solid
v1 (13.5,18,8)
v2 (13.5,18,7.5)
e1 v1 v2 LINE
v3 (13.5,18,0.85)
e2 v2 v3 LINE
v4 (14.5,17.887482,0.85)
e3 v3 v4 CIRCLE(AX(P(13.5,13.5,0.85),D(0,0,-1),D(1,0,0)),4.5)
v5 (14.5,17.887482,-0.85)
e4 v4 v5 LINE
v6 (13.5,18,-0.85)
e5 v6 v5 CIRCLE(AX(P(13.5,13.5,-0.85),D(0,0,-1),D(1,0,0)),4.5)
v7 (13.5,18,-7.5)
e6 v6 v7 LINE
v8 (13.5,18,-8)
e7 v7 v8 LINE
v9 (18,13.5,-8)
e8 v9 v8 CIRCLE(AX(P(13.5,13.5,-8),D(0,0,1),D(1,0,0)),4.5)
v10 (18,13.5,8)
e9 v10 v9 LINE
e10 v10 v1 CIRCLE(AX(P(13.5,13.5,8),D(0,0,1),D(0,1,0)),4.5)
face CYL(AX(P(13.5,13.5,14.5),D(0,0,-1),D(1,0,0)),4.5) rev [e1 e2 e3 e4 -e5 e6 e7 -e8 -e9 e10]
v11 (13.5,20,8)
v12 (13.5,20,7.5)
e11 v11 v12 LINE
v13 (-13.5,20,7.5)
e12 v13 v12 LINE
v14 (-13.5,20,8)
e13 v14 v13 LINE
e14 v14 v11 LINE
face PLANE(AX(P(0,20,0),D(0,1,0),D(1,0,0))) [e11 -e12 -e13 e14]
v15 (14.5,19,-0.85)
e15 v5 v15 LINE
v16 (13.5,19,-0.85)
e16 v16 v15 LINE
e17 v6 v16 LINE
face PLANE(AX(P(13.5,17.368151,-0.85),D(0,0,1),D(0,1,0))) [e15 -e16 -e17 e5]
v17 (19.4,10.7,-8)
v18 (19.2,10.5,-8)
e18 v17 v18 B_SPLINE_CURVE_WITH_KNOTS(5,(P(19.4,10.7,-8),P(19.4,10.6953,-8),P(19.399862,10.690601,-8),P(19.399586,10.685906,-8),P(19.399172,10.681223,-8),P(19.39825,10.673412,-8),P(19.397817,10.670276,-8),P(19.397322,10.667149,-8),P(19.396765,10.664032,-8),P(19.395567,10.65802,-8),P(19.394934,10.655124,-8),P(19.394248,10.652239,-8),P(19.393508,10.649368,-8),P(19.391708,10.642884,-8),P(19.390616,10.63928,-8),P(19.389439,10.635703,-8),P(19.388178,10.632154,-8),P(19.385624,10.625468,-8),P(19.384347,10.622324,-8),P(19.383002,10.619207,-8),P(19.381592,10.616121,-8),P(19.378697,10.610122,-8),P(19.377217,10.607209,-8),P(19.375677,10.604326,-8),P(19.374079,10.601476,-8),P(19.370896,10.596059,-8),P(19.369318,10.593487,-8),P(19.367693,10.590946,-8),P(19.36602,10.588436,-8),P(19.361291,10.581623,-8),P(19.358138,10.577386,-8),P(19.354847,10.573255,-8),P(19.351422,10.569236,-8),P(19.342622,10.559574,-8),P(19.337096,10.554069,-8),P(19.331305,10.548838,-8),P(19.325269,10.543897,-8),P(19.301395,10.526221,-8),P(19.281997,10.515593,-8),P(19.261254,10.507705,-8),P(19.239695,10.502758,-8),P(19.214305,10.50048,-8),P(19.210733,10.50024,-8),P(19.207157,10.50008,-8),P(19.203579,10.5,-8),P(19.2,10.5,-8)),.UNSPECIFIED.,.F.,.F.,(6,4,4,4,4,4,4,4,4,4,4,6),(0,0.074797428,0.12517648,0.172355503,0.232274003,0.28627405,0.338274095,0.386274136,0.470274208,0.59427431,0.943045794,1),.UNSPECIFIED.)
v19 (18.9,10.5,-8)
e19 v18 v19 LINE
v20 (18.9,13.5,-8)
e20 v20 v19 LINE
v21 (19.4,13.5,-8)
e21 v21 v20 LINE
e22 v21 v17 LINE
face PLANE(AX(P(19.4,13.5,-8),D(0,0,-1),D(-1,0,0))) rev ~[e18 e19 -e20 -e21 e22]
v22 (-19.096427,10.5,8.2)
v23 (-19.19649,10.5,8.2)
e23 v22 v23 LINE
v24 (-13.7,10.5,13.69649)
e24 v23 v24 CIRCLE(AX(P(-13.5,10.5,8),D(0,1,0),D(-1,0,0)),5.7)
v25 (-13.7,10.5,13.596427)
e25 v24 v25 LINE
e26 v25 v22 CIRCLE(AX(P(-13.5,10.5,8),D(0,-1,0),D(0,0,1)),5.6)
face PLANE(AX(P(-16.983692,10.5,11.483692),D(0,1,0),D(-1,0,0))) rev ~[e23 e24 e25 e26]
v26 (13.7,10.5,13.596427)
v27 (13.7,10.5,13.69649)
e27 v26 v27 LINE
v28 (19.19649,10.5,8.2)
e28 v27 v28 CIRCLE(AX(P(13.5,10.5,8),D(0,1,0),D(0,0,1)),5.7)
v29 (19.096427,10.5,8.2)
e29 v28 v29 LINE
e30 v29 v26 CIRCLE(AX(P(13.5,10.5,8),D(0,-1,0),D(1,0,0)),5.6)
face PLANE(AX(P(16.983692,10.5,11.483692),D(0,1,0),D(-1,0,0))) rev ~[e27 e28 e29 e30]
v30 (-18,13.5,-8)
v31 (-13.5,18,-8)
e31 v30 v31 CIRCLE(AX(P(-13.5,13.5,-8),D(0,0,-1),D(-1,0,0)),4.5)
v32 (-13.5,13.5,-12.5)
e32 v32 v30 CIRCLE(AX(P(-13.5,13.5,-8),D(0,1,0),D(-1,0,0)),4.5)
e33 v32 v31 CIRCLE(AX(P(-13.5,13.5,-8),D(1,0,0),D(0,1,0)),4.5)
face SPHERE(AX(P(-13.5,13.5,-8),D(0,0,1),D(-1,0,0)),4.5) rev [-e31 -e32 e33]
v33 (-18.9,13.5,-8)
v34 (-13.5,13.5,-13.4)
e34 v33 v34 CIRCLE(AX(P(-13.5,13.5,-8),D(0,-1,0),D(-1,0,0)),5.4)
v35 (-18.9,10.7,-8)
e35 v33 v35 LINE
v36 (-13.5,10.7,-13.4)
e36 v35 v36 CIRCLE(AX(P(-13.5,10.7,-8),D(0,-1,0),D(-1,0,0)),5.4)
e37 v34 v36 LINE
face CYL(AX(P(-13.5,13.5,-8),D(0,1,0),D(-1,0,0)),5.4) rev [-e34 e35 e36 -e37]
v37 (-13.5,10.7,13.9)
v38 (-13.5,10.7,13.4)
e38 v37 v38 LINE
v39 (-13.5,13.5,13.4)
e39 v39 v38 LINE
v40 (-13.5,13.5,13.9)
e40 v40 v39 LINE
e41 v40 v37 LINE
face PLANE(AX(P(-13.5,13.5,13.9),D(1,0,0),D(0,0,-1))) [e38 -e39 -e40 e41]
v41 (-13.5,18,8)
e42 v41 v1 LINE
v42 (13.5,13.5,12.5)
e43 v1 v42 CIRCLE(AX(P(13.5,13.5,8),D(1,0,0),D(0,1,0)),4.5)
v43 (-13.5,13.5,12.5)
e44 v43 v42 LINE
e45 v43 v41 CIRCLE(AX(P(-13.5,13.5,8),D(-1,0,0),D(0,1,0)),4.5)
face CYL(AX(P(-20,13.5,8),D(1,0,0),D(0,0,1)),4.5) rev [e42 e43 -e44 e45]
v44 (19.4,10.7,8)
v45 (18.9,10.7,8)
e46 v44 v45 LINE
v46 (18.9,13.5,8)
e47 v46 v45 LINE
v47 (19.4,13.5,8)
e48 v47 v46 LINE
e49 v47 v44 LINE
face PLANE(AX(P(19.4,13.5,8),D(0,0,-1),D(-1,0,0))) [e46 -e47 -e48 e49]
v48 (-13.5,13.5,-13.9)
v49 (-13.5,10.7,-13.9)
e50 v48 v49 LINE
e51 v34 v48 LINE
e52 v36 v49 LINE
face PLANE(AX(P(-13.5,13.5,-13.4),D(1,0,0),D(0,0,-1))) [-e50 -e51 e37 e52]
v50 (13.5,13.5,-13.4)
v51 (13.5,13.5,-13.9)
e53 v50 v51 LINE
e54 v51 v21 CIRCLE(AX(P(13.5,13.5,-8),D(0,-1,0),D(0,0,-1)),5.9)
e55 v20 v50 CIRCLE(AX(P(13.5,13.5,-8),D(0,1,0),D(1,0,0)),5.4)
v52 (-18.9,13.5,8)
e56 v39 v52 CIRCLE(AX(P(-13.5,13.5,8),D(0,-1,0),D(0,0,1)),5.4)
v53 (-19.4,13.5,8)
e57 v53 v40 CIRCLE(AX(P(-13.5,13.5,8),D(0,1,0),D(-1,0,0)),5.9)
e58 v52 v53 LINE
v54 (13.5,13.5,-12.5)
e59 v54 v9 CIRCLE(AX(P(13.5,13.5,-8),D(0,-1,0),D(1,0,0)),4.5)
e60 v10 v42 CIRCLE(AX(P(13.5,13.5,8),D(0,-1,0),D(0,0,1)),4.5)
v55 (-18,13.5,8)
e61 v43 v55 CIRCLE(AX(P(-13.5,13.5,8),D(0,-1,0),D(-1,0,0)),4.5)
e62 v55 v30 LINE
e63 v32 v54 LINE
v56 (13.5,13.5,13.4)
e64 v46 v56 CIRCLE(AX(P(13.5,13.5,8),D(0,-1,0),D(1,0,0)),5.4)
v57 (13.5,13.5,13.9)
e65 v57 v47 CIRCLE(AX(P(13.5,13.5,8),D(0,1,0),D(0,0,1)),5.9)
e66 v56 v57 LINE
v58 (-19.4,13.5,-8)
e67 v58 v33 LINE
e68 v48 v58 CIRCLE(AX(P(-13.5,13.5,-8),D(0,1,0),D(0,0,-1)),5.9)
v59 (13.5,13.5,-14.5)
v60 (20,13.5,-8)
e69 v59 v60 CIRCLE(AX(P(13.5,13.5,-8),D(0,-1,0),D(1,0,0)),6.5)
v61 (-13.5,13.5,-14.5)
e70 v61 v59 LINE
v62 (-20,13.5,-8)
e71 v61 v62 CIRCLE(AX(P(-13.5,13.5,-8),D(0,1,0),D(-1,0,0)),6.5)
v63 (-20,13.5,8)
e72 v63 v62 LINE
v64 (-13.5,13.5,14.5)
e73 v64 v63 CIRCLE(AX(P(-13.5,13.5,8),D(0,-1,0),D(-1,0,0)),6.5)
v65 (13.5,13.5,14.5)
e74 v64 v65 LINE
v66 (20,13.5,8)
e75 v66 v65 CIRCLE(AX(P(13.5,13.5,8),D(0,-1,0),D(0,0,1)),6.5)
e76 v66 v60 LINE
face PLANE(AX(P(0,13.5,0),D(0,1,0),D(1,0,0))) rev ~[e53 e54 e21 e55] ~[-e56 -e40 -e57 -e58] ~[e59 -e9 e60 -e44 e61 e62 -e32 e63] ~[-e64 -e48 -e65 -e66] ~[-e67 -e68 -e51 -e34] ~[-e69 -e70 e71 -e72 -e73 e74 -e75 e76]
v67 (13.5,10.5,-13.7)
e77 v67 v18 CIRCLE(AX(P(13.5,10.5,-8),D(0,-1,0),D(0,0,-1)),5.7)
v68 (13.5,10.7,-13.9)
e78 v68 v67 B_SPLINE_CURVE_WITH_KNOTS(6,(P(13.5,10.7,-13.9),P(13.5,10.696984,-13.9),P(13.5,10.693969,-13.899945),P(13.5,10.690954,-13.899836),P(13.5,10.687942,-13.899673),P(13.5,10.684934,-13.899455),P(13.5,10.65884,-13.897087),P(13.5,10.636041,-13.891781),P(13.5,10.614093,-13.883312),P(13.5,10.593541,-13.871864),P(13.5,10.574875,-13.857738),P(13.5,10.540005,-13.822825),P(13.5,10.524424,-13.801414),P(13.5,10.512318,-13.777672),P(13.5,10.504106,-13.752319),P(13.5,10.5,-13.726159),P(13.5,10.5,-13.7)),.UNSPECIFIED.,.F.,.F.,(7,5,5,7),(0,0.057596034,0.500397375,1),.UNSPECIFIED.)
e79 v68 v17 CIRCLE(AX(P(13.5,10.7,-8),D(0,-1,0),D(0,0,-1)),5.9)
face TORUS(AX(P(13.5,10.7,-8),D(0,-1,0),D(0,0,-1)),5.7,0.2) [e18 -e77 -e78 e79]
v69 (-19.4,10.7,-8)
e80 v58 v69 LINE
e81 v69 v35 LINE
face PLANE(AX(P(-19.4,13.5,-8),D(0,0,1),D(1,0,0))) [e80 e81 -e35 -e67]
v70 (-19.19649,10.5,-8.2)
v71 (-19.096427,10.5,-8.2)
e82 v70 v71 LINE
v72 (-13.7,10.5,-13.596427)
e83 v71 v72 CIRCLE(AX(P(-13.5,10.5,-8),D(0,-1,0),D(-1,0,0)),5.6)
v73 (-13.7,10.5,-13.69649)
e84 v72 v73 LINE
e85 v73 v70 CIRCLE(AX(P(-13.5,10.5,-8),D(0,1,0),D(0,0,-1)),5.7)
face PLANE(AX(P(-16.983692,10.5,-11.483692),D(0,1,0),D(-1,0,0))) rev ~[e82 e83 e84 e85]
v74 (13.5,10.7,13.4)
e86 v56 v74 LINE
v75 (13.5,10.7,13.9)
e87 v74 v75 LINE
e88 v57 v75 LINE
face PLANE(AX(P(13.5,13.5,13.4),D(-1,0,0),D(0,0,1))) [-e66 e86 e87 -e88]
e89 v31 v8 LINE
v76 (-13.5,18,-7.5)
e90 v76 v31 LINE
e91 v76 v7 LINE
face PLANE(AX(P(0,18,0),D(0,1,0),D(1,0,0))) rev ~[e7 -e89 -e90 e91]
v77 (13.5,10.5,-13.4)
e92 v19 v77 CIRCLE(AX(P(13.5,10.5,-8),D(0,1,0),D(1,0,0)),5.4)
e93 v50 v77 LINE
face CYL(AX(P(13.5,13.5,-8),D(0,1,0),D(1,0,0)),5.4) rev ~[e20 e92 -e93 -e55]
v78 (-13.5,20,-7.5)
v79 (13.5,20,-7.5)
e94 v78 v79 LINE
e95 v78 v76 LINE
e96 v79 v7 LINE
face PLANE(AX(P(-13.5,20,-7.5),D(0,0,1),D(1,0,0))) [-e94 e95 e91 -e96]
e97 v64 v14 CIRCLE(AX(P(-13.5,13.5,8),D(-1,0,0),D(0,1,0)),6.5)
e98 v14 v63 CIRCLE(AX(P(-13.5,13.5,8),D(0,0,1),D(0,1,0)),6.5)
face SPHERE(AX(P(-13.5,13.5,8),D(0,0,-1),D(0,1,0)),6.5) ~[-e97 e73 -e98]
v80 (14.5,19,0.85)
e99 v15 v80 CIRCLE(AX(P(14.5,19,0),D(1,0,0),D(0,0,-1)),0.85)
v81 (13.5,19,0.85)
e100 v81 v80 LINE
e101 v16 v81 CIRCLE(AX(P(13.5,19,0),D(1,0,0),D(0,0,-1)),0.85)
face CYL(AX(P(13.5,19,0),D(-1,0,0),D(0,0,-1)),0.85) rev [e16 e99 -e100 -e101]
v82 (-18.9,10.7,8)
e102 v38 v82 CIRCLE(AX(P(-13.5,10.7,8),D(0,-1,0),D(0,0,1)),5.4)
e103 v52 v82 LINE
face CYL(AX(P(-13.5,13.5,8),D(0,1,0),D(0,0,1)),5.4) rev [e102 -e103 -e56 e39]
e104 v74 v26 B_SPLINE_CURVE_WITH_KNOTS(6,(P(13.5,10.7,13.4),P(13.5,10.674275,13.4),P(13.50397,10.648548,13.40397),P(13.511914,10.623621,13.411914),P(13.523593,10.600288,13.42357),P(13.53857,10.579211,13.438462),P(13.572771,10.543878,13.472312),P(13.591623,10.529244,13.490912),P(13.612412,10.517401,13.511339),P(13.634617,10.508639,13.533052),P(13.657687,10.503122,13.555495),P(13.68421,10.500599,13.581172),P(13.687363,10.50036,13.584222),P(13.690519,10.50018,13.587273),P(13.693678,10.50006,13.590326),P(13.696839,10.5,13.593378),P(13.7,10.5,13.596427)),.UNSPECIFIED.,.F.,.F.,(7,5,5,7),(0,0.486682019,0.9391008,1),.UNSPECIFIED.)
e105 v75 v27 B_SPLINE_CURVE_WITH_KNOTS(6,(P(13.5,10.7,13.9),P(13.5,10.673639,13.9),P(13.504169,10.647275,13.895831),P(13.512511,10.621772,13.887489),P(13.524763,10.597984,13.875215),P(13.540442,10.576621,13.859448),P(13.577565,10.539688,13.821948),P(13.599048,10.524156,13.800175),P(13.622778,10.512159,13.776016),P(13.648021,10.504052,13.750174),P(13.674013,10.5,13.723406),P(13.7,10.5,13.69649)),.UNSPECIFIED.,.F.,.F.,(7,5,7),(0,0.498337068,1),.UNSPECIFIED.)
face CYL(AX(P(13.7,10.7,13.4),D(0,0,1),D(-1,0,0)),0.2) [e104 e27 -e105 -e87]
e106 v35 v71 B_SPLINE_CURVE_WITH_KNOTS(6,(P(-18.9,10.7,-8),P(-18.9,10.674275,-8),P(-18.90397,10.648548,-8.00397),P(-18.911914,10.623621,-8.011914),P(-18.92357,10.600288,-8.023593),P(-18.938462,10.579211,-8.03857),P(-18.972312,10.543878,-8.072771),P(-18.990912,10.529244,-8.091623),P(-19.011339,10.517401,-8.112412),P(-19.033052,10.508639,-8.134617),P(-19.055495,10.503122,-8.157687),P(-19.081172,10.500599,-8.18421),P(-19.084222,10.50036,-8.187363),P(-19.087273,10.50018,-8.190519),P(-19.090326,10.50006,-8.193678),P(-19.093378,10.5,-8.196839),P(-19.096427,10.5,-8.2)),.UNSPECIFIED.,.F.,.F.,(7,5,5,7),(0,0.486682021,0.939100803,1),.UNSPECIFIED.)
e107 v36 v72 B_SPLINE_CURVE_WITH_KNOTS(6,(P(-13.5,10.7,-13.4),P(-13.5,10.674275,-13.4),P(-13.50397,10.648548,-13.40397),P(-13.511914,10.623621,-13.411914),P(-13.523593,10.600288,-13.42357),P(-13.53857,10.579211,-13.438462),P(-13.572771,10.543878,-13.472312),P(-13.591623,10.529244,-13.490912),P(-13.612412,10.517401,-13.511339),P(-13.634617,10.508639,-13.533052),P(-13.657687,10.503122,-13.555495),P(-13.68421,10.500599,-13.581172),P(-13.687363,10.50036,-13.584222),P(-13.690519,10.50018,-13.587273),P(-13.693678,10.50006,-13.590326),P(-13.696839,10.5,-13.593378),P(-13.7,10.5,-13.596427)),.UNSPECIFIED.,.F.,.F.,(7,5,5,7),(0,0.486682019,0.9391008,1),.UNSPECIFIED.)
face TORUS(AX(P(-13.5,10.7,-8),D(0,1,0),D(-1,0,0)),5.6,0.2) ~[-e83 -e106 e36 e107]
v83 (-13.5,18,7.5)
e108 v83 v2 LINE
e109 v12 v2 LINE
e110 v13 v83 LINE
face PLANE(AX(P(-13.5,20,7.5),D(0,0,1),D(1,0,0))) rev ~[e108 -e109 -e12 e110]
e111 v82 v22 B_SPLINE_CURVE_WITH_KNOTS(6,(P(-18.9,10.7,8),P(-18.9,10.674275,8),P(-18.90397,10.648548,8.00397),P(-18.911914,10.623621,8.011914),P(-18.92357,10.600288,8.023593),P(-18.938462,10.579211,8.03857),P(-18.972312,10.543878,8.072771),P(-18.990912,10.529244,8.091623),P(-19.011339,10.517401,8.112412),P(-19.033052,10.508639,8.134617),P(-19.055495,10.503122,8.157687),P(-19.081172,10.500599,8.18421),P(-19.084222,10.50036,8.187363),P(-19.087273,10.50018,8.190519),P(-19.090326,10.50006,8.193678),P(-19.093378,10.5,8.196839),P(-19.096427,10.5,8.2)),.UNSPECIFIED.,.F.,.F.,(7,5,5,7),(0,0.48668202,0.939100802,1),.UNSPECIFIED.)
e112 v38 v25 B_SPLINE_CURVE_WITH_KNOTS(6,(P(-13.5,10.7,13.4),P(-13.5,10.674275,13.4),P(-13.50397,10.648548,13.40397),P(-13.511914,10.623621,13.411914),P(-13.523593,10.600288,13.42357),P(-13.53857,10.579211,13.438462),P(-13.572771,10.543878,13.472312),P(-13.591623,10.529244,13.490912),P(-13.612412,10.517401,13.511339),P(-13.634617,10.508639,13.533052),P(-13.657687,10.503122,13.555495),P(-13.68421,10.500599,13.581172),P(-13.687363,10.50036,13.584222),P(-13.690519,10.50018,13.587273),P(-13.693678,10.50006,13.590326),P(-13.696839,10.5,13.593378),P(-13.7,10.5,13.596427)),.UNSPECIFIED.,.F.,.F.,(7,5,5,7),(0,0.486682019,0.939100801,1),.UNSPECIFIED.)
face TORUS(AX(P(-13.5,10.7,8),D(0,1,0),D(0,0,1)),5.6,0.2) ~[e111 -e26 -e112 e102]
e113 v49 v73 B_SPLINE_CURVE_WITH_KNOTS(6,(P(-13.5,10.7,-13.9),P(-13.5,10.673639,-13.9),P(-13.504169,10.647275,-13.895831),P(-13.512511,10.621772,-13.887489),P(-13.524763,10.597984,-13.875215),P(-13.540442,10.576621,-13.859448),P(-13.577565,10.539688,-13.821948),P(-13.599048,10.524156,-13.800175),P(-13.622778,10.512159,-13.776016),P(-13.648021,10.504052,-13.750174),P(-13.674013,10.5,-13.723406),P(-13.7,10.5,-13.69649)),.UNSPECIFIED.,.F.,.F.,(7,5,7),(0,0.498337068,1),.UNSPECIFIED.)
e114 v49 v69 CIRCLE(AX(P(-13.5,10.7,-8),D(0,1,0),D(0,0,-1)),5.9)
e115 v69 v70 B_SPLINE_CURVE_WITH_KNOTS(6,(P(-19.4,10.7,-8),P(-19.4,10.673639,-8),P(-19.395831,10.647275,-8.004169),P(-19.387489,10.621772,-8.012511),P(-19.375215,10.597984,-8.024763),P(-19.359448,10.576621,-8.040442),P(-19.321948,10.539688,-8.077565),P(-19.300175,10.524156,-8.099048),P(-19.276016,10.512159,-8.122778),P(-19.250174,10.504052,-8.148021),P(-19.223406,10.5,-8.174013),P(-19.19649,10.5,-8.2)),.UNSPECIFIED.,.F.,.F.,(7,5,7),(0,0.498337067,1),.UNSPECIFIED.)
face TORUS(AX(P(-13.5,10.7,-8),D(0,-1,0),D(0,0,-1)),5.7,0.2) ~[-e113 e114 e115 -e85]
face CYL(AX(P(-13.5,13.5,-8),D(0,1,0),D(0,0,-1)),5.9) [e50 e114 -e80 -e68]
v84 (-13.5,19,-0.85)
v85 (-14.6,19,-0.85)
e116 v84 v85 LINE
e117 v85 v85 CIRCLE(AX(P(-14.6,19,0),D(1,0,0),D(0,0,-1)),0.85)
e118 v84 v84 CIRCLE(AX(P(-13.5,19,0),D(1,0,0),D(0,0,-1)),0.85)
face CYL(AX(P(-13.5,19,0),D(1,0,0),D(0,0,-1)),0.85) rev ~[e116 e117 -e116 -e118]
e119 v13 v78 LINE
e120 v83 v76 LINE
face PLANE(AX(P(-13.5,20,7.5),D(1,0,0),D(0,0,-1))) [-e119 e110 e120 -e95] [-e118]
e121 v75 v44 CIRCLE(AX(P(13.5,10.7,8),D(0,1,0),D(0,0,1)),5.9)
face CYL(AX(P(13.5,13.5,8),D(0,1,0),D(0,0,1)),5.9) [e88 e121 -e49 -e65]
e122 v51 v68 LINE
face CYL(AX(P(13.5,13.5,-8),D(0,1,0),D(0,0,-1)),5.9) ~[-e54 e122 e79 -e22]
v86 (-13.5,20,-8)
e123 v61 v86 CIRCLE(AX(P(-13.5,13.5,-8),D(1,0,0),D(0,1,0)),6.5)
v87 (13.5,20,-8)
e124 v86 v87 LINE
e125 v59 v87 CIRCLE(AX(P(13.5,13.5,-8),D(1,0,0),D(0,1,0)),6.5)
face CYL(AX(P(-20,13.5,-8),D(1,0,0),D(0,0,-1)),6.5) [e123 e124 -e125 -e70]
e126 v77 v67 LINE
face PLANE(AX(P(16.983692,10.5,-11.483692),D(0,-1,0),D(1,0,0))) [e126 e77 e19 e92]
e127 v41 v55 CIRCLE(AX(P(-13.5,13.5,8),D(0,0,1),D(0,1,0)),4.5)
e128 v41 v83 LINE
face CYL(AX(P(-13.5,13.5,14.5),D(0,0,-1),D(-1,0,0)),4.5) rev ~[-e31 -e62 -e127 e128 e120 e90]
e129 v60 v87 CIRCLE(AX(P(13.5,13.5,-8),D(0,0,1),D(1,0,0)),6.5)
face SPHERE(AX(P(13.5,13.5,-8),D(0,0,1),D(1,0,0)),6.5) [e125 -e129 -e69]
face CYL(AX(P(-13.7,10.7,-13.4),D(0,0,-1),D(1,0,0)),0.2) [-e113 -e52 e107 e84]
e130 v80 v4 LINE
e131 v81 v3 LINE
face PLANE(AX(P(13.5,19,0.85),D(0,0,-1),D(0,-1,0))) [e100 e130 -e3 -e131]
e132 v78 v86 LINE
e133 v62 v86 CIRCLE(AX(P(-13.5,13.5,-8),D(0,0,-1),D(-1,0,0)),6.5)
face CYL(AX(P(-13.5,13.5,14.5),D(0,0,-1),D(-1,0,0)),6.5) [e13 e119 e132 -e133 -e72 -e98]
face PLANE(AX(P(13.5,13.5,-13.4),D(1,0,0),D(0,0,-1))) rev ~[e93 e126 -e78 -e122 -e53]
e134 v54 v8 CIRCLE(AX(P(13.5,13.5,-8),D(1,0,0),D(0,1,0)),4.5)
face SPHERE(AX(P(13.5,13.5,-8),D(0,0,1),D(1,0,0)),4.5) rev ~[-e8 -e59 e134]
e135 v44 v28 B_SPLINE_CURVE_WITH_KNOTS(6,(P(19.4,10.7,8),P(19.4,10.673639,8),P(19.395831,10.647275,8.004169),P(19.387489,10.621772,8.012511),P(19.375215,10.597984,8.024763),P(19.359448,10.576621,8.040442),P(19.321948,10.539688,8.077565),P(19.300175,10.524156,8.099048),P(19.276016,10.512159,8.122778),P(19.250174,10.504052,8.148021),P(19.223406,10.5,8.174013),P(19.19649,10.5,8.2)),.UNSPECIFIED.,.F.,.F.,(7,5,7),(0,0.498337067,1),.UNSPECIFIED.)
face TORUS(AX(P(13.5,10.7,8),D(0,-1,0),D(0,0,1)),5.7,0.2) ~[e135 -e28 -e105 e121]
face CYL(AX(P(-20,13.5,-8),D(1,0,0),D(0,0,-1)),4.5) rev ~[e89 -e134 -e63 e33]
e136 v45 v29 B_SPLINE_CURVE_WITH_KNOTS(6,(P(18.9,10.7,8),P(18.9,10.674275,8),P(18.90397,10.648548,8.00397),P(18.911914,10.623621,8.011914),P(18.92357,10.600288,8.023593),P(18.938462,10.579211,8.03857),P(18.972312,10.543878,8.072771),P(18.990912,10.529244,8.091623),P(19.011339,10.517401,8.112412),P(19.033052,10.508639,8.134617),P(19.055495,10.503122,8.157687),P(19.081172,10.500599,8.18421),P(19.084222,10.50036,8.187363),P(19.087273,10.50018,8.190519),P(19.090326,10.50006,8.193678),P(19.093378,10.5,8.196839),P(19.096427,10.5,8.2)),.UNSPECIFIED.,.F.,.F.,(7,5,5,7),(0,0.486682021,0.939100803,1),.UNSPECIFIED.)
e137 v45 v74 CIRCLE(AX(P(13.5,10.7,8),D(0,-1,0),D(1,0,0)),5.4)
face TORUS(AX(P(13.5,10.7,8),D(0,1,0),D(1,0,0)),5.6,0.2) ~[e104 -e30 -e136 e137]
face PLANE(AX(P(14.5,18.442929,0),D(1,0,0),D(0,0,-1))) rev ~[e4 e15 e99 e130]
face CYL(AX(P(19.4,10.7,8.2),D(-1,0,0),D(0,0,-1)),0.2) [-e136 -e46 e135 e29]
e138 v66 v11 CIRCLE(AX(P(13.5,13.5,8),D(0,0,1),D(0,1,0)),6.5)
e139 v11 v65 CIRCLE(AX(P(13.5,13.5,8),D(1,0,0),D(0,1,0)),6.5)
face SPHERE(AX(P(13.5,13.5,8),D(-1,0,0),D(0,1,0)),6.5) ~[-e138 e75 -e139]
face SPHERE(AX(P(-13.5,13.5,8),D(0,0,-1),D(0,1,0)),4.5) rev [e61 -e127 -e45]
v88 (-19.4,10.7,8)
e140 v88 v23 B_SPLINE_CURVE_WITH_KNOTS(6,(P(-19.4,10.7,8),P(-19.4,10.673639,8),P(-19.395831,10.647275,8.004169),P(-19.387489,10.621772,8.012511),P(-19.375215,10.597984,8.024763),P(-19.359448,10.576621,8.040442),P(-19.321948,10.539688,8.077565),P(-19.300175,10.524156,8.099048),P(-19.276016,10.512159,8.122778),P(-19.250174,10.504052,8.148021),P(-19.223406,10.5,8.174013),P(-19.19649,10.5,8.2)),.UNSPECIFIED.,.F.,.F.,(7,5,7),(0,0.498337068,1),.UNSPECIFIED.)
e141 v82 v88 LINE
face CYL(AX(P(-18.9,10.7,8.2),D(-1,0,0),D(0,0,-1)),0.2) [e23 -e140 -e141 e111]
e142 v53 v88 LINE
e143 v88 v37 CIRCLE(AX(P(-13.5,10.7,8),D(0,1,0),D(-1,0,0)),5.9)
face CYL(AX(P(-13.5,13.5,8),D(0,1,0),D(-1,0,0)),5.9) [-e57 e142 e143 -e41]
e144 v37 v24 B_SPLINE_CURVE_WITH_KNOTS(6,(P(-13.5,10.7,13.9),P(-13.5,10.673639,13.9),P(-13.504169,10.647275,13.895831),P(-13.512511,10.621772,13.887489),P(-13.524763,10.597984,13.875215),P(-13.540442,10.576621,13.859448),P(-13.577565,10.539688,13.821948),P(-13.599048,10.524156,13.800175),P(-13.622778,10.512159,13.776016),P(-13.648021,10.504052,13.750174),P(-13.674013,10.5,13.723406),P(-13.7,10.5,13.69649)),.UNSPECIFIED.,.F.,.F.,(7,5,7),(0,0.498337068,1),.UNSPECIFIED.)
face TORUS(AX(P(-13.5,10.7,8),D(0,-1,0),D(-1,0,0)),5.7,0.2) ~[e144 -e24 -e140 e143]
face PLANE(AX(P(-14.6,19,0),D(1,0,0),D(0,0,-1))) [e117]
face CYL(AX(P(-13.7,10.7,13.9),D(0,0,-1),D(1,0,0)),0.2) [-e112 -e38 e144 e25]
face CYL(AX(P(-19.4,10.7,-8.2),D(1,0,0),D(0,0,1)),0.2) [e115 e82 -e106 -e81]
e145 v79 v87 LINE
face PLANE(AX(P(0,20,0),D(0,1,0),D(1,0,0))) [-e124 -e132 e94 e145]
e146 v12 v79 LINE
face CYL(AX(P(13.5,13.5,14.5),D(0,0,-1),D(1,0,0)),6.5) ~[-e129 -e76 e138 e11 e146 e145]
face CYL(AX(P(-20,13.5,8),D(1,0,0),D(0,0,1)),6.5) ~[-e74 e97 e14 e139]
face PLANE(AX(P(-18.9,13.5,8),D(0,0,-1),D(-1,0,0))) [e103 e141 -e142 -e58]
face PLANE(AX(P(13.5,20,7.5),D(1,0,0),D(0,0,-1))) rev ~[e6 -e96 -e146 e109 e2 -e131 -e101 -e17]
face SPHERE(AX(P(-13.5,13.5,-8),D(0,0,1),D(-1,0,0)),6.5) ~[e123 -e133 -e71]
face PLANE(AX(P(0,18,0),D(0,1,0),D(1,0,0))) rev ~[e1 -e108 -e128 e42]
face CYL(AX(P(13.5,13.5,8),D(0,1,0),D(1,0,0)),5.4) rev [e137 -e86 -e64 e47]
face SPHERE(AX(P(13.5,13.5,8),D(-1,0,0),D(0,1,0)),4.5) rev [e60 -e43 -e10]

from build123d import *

# Parameters (mm, degrees)
SKETCH1_W           = 40
SKETCH1_H           = 29
BOSS_EXTRUDE1_DEPTH = 20
FILLET2_R           = 6.5
SKETCH3_W           = 48.982601016
SKETCH3_H           = 39.309165856
CUT_EXTRUDE1_DEPTH  = 14.5
SHELL1_T            = -2
BOSS_EXTRUDE3_DEPTH = 3
FILLET3_R           = 0.2
SKETCH6_W           = 27
SKETCH6_H           = 15
CUT_EXTRUDE2_DEPTH  = 10.5000001
SKETCH7_R           = 0.85
CUT_EXTRUDE3_DEPTH  = 1.1
CUT_EXTRUDE4_DEPTH  = 1


with BuildPart() as part:
    # Sketch1 → Boss-Extrude1 (new body)
    with BuildSketch(Plane(origin=(0, 0, 0), x_dir=(1, 0, 0), z_dir=(0, 1, 0))):
        Rectangle(SKETCH1_W, SKETCH1_H)
    extrude(amount=BOSS_EXTRUDE1_DEPTH)

    # Fillet2
    fillet2_edges = [part.edges().sort_by_distance(p)[0] for p in [
        (-20, 20, 0),
        (0, 20, 14.5),
        (20, 20, 0),
        (0, 0, 14.5),
        (-20, 0, 0),
        (0, 0, -14.5),
        (20, 0, 0),
        (20, 10, 14.5),
        (-20, 10, 14.5),
        (-20, 10, -14.5),
        (20, 10, -14.5),
        (0, 20, -14.5),
    ]]
    fillet(fillet2_edges, radius=FILLET2_R)

    # Sketch3 → Cut-Extrude1 (cut, through all)
    with BuildSketch(Plane(origin=(0, 13.5, 0), x_dir=(1, 0, 0), z_dir=(0, 1, 0))):
        Rectangle(SKETCH3_W, SKETCH3_H)
    extrude(amount=-CUT_EXTRUDE1_DEPTH, mode=Mode.SUBTRACT)

    # Shell1
    shell1_openings = [part.faces().sort_by_distance(p)[0] for p in [
        (0, 13.5, 0),
    ]]
    offset(amount=SHELL1_T, openings=shell1_openings)

    # Sketch5 → Boss-Extrude3 (add)
    with BuildSketch(Plane.XZ.offset(-13.5)):
        with BuildLine():
            Line((-13.5, 13.9), (-13.5, 13.4))
            ThreePointArc((-13.5, 13.4), (-17.318376618, 11.818376618), (-18.9, 8))
            Line((-18.9, 8), (-19.4, 8))
            ThreePointArc((-19.4, 8), (-17.671930009, 12.171930009), (-13.5, 13.9))
        make_face()
        with BuildLine():
            Line((-19.4, -8), (-18.9, -8))
            ThreePointArc((-18.9, -8), (-17.318376618, -11.818376618), (-13.5, -13.4))
            Line((-13.5, -13.4), (-13.5, -13.9))
            ThreePointArc((-13.5, -13.9), (-17.671930009, -12.171930009), (-19.4, -8))
        make_face()
        with BuildLine():
            Line((13.5, -13.4), (13.5, -13.9))
            ThreePointArc((13.5, -13.9), (17.671930009, -12.171930009), (19.4, -8))
            Line((19.4, -8), (18.9, -8))
            ThreePointArc((18.9, -8), (17.318376618, -11.818376618), (13.5, -13.4))
        make_face()
        with BuildLine():
            Line((19.4, 8), (18.9, 8))
            ThreePointArc((18.9, 8), (17.318376618, 11.818376618), (13.5, 13.4))
            Line((13.5, 13.4), (13.5, 13.9))
            ThreePointArc((13.5, 13.9), (17.671930009, 12.171930009), (19.4, 8))
        make_face()
    extrude(amount=BOSS_EXTRUDE3_DEPTH)

    # Fillet3
    fillet3_edges = [part.edges().sort_by_distance(p)[0] for p in [
        (-17.318376618, 10.5, 11.818376618),
        (-17.671930009, 10.5, 12.171930009),
        (-17.318376618, 10.5, -11.818376618),
        (-17.671930009, 10.5, -12.171930009),
        (17.318376618, 10.5, 11.818376618),
        (17.671930009, 10.5, 12.171930009),
        (17.671930009, 10.5, -12.171930009),
        (-19.15, 10.5, 8),
        (-13.5, 10.5, 13.65),
        (-13.5, 10.5, -13.65),
        (-19.15, 10.5, -8),
        (13.5, 10.5, 13.65),
        (19.15, 10.5, 8),
    ]]
    fillet(fillet3_edges, radius=FILLET3_R)

    # Sketch6 → Cut-Extrude2 (cut, through all)
    with BuildSketch(Plane(origin=(0, 20, 0), x_dir=(1, 0, 0), z_dir=(0, 1, 0))):
        Rectangle(SKETCH6_W, SKETCH6_H)
    extrude(amount=-CUT_EXTRUDE2_DEPTH, mode=Mode.SUBTRACT)

    # Sketch7 → Cut-Extrude3 (cut)
    with BuildSketch(Plane(origin=(-13.5, 0, 0), x_dir=(0, 0, -1), z_dir=(1, 0, 0))):
        with Locations((0, 19)):
            Circle(SKETCH7_R)
    extrude(amount=-CUT_EXTRUDE3_DEPTH, mode=Mode.SUBTRACT)

    # Sketch9 → Cut-Extrude4 (cut)
    with BuildSketch(Plane.ZY.offset(-13.5)):
        with BuildLine():
            Line((0.85, 19), (0.85, 18))
            Line((0.85, 18), (0.85, 17.368151277))
            Line((0.85, 17.368151277), (-0.85, 17.368151277))
            Line((-0.85, 17.368151277), (-0.85, 18))
            Line((-0.85, 18), (-0.85, 19))
            ThreePointArc((-0.85, 19), (0, 19.85), (0.85, 19))
        make_face()
    extrude(amount=-CUT_EXTRUDE4_DEPTH, mode=Mode.SUBTRACT)


solid = part.part
